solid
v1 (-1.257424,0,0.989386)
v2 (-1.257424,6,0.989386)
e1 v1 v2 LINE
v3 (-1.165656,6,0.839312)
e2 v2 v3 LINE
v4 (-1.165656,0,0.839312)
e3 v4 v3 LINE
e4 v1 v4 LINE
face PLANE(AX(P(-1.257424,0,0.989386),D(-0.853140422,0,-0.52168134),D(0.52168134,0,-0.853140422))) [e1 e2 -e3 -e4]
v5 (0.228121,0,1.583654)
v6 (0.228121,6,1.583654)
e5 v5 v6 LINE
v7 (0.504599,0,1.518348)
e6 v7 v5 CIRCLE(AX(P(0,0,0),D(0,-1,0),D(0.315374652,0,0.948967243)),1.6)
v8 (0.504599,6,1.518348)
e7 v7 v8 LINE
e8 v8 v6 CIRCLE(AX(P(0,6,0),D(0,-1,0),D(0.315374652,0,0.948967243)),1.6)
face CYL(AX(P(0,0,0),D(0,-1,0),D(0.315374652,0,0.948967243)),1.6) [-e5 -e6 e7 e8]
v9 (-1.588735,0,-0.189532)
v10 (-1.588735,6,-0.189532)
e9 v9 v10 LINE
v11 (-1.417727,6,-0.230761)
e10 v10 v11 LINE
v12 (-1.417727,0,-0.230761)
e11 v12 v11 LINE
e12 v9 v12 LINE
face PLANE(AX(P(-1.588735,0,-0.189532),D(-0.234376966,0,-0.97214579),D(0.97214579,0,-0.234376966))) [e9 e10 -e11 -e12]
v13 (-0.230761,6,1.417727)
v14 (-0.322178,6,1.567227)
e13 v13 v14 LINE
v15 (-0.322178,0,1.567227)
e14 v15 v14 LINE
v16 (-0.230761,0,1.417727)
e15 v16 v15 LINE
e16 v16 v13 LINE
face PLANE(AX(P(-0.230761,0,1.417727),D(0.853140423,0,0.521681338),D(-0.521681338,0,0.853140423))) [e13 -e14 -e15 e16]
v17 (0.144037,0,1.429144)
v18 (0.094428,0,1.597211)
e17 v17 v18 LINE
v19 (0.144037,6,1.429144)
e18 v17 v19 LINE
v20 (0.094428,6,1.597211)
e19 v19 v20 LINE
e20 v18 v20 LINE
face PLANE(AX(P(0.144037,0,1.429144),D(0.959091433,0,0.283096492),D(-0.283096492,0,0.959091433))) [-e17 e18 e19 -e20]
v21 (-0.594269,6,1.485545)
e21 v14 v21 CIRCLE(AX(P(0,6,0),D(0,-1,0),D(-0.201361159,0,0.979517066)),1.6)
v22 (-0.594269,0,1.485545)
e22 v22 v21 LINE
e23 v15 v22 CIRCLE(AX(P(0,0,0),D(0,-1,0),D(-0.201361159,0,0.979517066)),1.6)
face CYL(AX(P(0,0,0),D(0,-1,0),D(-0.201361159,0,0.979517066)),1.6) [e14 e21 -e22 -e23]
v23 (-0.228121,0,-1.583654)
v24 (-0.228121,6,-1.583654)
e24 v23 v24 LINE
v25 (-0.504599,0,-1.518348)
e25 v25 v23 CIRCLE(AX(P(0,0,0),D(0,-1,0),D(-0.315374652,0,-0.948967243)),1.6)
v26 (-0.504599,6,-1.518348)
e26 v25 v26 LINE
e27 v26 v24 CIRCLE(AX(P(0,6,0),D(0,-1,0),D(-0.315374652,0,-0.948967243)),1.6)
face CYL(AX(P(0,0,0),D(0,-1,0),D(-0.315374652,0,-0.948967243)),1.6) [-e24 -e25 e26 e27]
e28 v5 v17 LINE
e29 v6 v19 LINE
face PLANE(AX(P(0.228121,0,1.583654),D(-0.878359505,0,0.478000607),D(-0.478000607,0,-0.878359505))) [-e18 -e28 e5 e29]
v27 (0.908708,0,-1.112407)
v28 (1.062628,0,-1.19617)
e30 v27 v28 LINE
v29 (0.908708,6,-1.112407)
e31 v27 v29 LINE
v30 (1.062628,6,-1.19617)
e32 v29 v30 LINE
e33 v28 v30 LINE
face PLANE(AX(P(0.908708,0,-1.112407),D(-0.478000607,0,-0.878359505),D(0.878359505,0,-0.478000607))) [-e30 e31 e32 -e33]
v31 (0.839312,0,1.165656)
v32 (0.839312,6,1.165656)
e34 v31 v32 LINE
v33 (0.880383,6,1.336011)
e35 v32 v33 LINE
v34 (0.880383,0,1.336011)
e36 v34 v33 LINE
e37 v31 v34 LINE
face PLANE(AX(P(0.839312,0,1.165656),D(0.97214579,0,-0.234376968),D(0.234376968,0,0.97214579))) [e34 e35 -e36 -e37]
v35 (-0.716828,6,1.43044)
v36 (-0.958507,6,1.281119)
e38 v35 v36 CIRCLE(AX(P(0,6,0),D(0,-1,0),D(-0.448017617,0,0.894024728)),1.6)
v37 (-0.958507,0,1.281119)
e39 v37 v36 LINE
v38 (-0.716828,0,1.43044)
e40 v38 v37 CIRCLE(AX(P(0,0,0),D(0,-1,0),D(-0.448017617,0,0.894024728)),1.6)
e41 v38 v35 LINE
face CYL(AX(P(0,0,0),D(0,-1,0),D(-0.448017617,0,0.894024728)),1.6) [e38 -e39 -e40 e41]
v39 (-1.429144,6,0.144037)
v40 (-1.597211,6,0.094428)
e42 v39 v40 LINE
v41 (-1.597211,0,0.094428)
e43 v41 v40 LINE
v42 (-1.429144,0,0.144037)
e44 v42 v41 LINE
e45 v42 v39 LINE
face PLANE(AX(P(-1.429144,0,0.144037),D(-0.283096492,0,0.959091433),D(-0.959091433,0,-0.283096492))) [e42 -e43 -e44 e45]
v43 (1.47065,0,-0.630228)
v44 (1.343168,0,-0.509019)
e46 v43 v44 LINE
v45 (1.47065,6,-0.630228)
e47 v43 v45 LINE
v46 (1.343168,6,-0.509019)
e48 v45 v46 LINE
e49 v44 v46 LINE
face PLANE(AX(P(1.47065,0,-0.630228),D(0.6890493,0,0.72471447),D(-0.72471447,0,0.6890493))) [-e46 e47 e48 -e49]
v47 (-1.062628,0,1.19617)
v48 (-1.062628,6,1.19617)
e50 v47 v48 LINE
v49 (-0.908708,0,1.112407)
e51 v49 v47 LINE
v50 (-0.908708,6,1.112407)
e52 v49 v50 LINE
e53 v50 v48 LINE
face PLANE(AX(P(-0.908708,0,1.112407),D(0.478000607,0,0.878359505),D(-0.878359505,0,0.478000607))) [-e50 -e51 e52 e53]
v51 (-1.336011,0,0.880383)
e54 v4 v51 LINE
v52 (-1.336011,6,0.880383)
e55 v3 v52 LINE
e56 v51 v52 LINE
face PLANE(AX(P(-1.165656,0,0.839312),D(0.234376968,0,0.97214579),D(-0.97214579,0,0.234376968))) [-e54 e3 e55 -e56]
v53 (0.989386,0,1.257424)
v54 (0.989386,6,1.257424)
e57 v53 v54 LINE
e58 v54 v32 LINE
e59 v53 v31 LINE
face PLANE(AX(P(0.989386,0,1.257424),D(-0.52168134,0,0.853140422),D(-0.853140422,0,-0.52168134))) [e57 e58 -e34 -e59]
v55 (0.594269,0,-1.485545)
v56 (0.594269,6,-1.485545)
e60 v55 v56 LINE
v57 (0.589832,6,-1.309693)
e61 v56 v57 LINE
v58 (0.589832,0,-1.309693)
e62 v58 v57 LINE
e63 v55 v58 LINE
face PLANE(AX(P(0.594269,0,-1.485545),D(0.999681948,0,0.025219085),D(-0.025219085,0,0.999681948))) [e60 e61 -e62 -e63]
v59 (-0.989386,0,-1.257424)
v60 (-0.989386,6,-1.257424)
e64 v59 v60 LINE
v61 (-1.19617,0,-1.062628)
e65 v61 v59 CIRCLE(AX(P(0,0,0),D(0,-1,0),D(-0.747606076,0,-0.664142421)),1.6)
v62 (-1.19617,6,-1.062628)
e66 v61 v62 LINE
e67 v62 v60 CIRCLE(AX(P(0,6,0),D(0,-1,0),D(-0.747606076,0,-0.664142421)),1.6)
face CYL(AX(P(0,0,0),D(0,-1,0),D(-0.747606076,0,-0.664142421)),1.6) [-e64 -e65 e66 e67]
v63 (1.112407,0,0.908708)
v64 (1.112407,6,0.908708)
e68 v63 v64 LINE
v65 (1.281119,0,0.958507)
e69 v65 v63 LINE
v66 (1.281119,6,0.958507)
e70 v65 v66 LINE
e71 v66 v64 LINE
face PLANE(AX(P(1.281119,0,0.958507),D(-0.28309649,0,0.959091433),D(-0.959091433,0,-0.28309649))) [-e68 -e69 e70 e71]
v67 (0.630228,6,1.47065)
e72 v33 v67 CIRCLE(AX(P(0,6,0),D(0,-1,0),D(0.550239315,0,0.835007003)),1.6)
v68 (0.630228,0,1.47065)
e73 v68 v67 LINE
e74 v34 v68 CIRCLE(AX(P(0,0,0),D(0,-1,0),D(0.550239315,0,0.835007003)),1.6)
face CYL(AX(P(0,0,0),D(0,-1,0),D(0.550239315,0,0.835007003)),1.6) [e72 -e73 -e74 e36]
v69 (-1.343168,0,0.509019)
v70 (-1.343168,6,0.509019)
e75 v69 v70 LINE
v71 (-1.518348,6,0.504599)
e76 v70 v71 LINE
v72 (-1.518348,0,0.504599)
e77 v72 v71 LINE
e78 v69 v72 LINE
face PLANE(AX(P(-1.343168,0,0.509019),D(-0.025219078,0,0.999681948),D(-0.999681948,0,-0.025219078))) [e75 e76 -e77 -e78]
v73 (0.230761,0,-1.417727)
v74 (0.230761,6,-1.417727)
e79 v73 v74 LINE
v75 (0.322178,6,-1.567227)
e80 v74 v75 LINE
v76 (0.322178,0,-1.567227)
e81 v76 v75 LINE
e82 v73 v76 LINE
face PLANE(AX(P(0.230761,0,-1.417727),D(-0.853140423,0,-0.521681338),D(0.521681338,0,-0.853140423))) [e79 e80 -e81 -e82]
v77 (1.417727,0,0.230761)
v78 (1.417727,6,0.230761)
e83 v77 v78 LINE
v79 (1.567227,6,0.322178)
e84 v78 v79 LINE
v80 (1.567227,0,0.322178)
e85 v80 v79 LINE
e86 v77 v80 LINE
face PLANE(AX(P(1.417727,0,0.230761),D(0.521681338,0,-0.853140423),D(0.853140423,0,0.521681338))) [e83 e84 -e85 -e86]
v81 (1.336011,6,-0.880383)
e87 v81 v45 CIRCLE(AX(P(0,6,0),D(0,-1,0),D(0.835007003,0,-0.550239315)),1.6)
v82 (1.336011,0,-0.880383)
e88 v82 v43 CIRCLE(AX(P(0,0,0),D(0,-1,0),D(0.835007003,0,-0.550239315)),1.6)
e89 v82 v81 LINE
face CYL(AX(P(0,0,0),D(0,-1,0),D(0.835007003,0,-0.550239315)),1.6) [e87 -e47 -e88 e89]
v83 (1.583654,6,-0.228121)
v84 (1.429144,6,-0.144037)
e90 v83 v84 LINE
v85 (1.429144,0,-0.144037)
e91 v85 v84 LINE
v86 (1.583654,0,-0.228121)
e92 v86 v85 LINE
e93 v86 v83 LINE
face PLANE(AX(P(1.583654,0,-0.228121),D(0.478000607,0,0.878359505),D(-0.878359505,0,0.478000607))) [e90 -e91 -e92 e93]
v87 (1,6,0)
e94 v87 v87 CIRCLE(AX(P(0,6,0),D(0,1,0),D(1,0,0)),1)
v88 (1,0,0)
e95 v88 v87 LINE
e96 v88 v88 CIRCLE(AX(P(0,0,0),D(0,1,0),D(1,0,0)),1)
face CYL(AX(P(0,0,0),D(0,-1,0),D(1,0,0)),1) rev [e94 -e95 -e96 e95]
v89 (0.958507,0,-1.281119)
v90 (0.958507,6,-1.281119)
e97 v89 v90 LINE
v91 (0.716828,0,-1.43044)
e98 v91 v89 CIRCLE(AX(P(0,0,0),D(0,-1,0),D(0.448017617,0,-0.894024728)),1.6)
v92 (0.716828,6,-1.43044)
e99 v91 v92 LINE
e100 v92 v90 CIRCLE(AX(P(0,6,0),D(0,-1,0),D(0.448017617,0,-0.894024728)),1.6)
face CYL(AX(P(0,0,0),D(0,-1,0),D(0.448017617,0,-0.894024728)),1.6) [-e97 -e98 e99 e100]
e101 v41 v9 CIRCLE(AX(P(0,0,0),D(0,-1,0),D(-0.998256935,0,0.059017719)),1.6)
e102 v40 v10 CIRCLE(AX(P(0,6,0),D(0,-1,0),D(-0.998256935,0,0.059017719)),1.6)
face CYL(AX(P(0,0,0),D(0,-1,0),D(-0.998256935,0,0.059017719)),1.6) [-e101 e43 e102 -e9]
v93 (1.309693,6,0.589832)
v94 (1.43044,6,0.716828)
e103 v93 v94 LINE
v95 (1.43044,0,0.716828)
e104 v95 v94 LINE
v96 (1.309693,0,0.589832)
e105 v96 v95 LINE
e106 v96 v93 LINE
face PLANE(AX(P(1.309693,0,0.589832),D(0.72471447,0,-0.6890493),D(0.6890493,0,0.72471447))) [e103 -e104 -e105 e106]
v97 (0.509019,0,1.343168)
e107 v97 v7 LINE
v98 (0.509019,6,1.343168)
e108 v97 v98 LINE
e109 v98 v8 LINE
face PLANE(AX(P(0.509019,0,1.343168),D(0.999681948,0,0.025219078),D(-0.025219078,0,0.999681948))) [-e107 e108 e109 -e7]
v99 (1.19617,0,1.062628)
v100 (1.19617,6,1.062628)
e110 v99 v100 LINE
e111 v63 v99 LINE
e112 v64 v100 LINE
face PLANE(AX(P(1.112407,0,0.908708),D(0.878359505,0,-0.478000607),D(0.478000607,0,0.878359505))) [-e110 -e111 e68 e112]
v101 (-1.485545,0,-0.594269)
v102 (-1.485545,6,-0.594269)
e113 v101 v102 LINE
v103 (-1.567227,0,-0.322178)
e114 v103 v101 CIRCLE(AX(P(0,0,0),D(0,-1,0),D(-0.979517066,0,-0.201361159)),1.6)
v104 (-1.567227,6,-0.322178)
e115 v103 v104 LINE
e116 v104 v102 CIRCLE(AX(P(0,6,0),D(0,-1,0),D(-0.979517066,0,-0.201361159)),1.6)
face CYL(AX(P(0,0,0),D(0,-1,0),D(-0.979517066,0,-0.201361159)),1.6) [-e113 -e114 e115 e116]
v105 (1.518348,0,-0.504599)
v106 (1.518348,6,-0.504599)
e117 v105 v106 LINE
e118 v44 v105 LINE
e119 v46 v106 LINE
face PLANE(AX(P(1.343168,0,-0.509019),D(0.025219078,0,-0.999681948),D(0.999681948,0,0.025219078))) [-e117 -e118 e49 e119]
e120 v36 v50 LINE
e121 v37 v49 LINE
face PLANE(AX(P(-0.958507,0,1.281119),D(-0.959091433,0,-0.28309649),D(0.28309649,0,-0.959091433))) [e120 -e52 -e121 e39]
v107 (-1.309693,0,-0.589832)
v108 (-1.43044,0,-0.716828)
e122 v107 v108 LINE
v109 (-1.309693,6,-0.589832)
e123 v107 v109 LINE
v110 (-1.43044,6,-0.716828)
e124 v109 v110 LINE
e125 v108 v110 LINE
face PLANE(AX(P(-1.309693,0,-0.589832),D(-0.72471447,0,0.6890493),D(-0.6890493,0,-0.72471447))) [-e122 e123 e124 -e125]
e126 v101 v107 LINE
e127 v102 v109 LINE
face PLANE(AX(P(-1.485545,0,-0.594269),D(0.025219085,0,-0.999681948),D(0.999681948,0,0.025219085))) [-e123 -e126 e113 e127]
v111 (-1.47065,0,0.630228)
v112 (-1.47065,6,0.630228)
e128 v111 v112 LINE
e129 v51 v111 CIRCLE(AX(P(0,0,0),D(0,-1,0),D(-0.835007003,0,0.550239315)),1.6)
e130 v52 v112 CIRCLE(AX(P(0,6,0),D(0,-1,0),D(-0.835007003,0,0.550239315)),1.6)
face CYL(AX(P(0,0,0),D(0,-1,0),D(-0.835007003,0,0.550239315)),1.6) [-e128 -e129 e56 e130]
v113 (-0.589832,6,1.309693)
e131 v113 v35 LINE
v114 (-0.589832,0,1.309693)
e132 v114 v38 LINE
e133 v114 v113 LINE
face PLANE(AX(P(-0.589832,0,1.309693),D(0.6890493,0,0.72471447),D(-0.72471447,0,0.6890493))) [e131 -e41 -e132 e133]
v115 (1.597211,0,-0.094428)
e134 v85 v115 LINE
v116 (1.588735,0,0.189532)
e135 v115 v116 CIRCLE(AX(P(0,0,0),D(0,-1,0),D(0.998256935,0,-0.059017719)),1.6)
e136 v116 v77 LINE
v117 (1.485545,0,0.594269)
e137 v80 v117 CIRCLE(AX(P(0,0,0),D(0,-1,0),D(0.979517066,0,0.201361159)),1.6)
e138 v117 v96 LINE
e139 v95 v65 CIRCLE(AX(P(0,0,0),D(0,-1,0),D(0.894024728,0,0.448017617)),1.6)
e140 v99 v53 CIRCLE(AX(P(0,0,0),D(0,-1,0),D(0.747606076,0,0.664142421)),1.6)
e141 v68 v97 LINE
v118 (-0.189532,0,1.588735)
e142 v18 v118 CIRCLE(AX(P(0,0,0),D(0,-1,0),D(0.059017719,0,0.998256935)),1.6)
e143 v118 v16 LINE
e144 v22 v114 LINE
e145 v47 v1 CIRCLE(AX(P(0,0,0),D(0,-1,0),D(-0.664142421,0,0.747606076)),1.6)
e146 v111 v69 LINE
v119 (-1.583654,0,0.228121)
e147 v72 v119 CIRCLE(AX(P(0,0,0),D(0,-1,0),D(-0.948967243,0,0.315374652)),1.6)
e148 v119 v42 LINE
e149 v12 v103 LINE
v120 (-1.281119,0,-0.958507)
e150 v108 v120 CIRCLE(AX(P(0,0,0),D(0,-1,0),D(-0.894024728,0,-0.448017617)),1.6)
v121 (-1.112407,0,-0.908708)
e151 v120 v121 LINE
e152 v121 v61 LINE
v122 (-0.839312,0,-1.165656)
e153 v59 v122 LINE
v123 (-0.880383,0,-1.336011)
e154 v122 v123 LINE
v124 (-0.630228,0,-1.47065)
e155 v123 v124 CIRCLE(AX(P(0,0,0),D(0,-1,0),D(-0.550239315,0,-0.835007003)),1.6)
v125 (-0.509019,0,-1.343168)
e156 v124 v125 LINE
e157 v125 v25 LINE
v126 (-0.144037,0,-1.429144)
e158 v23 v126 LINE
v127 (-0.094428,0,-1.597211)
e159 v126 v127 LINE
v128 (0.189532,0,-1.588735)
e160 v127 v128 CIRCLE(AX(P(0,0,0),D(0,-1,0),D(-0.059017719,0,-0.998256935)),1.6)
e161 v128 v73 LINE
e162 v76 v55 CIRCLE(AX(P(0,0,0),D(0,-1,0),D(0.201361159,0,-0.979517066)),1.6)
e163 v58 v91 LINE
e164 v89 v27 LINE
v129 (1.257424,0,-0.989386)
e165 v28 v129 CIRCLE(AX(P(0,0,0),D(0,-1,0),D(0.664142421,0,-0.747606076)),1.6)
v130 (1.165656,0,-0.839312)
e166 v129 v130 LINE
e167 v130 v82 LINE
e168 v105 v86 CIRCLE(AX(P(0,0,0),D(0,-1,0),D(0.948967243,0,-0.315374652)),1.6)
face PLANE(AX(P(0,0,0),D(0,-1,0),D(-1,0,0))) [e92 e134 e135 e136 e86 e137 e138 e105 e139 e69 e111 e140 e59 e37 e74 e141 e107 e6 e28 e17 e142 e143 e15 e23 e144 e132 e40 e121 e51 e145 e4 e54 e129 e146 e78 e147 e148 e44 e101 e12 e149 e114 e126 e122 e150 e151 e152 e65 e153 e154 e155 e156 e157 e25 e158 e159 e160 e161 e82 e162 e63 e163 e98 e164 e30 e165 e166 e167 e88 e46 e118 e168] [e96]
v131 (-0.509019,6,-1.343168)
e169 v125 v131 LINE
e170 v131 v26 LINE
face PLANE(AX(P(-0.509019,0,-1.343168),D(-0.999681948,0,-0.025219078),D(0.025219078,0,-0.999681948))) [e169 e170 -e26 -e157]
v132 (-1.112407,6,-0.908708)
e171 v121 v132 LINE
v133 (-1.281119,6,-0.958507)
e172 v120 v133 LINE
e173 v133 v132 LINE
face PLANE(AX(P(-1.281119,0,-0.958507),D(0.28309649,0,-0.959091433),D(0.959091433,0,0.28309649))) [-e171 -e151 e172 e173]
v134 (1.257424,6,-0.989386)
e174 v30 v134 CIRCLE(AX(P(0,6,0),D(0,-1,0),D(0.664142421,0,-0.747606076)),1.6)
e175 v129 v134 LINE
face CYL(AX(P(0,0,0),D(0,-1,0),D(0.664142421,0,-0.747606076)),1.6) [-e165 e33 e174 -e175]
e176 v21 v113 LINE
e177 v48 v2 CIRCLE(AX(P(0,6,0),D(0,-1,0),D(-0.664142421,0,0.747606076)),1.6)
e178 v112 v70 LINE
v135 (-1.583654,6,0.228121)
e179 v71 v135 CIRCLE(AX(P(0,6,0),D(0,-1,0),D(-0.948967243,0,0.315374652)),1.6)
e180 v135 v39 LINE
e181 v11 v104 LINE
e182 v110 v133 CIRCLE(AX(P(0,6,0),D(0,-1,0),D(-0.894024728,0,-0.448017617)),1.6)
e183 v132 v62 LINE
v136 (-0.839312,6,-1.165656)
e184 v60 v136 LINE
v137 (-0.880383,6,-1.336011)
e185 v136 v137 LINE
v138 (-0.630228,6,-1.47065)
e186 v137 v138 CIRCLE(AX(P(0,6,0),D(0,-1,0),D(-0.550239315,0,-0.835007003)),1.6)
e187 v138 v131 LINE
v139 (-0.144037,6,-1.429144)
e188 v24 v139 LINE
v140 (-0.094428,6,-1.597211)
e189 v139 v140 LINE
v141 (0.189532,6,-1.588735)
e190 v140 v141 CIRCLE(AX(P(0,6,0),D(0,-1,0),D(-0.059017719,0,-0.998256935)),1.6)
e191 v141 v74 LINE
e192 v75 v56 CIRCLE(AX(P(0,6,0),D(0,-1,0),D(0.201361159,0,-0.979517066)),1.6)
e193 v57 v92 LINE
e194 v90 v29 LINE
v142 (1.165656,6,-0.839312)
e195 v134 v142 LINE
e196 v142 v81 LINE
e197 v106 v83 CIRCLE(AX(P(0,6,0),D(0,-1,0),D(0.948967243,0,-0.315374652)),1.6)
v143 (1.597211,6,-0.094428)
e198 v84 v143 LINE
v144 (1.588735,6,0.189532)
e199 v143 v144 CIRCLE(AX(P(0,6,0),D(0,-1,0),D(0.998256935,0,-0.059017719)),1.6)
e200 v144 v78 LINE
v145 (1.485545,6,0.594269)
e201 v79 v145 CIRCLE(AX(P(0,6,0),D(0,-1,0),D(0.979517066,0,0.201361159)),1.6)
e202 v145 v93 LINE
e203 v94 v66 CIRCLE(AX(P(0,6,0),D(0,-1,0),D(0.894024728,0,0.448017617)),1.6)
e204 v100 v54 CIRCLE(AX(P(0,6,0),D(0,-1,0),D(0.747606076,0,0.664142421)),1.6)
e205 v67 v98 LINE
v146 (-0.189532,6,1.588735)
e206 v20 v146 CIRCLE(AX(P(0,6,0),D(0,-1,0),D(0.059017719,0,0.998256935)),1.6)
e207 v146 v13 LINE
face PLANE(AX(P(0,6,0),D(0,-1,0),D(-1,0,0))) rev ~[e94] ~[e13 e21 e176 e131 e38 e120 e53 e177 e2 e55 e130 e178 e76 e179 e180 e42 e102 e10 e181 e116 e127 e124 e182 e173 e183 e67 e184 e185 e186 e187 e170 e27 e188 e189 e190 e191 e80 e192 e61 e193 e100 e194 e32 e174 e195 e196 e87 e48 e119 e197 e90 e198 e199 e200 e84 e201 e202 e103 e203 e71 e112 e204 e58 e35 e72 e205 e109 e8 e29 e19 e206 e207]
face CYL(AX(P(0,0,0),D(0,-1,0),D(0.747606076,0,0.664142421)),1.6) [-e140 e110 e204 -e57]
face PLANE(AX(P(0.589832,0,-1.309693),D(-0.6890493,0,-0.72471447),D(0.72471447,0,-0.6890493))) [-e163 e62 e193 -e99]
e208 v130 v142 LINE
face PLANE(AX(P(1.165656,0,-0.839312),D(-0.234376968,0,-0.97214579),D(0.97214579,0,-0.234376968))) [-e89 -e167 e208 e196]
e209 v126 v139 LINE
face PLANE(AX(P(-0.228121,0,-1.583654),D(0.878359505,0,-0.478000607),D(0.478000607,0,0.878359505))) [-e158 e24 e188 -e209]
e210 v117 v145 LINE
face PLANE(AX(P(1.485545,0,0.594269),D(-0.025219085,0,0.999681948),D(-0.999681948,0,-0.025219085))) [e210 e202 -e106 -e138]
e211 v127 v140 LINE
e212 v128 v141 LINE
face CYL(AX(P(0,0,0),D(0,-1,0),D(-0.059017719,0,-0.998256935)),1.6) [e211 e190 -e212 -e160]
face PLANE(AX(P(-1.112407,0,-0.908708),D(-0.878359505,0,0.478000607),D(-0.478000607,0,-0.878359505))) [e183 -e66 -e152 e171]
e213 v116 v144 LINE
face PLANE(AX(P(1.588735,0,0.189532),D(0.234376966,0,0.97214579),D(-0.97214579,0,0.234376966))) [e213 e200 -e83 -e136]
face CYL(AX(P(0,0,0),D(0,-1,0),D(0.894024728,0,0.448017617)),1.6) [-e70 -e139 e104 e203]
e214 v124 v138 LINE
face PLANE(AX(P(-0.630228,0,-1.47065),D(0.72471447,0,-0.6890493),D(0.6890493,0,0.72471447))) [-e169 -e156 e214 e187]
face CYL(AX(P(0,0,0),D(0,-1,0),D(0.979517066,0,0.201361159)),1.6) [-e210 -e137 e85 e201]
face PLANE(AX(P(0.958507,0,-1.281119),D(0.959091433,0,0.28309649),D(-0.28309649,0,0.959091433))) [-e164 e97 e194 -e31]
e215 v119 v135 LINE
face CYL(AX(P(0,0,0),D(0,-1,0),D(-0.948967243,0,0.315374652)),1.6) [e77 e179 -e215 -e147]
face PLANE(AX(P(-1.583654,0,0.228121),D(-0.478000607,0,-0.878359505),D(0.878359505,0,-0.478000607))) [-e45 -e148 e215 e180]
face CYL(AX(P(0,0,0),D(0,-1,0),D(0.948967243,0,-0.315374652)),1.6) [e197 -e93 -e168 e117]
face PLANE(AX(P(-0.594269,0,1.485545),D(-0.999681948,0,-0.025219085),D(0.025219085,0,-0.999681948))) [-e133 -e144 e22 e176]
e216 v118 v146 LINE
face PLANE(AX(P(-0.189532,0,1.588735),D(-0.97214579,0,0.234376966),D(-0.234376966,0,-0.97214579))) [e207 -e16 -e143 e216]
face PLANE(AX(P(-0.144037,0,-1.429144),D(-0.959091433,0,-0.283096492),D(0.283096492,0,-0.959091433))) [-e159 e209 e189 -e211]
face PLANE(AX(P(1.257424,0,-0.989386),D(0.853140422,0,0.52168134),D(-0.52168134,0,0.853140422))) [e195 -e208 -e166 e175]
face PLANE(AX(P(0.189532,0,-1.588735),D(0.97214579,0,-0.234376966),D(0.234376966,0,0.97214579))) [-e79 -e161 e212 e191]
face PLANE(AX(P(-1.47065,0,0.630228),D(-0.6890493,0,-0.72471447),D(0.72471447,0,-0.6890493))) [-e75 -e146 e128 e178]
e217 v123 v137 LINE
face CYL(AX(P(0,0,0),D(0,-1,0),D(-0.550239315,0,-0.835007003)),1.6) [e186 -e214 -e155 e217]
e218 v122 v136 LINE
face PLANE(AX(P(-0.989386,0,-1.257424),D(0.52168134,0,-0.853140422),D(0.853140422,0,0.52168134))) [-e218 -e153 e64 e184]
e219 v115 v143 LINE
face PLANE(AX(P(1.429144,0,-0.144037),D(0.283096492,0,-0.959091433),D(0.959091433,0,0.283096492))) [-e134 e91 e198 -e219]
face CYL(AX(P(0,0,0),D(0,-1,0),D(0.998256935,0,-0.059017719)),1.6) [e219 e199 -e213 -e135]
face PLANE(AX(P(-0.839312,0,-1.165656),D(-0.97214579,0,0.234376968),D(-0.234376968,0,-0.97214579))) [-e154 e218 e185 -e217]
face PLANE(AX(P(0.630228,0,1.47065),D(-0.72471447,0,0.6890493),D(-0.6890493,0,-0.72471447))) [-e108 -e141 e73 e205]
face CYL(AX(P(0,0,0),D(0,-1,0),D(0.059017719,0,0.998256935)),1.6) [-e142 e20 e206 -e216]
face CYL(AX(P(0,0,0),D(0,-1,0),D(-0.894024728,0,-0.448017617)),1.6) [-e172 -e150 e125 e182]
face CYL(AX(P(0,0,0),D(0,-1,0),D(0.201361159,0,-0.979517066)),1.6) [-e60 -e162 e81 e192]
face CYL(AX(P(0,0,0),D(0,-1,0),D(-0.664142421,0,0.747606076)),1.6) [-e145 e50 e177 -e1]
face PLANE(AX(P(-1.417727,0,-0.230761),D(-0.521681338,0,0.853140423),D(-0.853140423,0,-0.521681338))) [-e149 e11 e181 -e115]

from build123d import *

# Parameters (mm, degrees)
SKETCH_1_R      = 1
EXTRUDE_1_DEPTH = 6


with BuildPart() as part:
    # 草图1 → 凸台-拉伸1 (new body)
    with BuildSketch(Plane(origin=(0, 0, 0), x_dir=(1, 0, 0), z_dir=(0, 1, 0))):
        with BuildLine():
            Line((-0.228121034, 1.583654253), (-0.144036994, 1.429143956))
            Line((-0.144036994, 1.429143956), (-0.094428358, 1.597211096))
            ThreePointArc((-0.094428358, 1.597211096), (0.047740264, 1.599287612), (0.189531883, 1.588734611))
            Line((0.189531883, 1.588734611), (0.230760622, 1.417726573))
            Line((0.230760622, 1.417726573), (0.322177861, 1.567227305))
            ThreePointArc((0.322177861, 1.567227305), (0.460039647, 1.532437119), (0.594268516, 1.485545331))
            Line((0.594268516, 1.485545331), (0.589832282, 1.309693468))
            Line((0.589832282, 1.309693468), (0.716828191, 1.430439563))
            ThreePointArc((0.716828191, 1.430439563), (0.840988088, 1.361153568), (0.958506731, 1.281118592))
            Line((0.958506731, 1.281118592), (0.908707847, 1.112406917))
            Line((0.908707847, 1.112406917), (1.062627865, 1.196169729))
            ThreePointArc((1.062627865, 1.196169729), (1.16462458, 1.097109651), (1.257424297, 0.989385738))
            Line((1.257424297, 0.989385738), (1.165656474, 0.839311673))
            Line((1.165656474, 0.839311673), (1.336011205, 0.880382905))
            ThreePointArc((1.336011205, 0.880382905), (1.408893832, 0.758299525), (1.470650475, 0.63022788))
            Line((1.470650475, 0.63022788), (1.343167539, 0.509018726))
            Line((1.343167539, 0.509018726), (1.51834759, 0.504599441))
            ThreePointArc((1.51834759, 0.504599441), (1.557149298, 0.367812539), (1.583654253, 0.228121034))
            Line((1.583654253, 0.228121034), (1.429143956, 0.144036994))
            Line((1.429143956, 0.144036994), (1.597211096, 0.094428358))
            ThreePointArc((1.597211096, 0.094428358), (1.599287612, -0.047740264), (1.588734611, -0.189531883))
            Line((1.588734611, -0.189531883), (1.417726573, -0.230760622))
            Line((1.417726573, -0.230760622), (1.567227305, -0.322177861))
            ThreePointArc((1.567227305, -0.322177861), (1.532437119, -0.460039647), (1.485545331, -0.594268516))
            Line((1.485545331, -0.594268516), (1.309693468, -0.589832282))
            Line((1.309693468, -0.589832282), (1.430439563, -0.716828191))
            ThreePointArc((1.430439563, -0.716828191), (1.361153568, -0.840988088), (1.281118592, -0.958506731))
            Line((1.281118592, -0.958506731), (1.112406917, -0.908707847))
            Line((1.112406917, -0.908707847), (1.196169729, -1.062627865))
            ThreePointArc((1.196169729, -1.062627865), (1.097109651, -1.16462458), (0.989385738, -1.257424297))
            Line((0.989385738, -1.257424297), (0.839311673, -1.165656474))
            Line((0.839311673, -1.165656474), (0.880382905, -1.336011205))
            ThreePointArc((0.880382905, -1.336011205), (0.758299525, -1.408893832), (0.63022788, -1.470650475))
            Line((0.63022788, -1.470650475), (0.509018726, -1.343167539))
            Line((0.509018726, -1.343167539), (0.504599441, -1.51834759))
            ThreePointArc((0.504599441, -1.51834759), (0.367812539, -1.557149298), (0.228121034, -1.583654253))
            Line((0.228121034, -1.583654253), (0.144036994, -1.429143956))
            Line((0.144036994, -1.429143956), (0.094428358, -1.597211096))
            ThreePointArc((0.094428358, -1.597211096), (-0.047740264, -1.599287612), (-0.189531883, -1.588734611))
            Line((-0.189531883, -1.588734611), (-0.230760622, -1.417726573))
            Line((-0.230760622, -1.417726573), (-0.322177861, -1.567227305))
            ThreePointArc((-0.322177861, -1.567227305), (-0.460039647, -1.532437119), (-0.594268516, -1.485545331))
            Line((-0.594268516, -1.485545331), (-0.589832282, -1.309693468))
            Line((-0.589832282, -1.309693468), (-0.716828191, -1.430439563))
            ThreePointArc((-0.716828191, -1.430439563), (-0.840988088, -1.361153568), (-0.958506731, -1.281118592))
            Line((-0.958506731, -1.281118592), (-0.908707847, -1.112406917))
            Line((-0.908707847, -1.112406917), (-1.062627865, -1.196169729))
            ThreePointArc((-1.062627865, -1.196169729), (-1.16462458, -1.097109651), (-1.257424297, -0.989385738))
            Line((-1.257424297, -0.989385738), (-1.165656474, -0.839311673))
            Line((-1.165656474, -0.839311673), (-1.336011205, -0.880382905))
            ThreePointArc((-1.336011205, -0.880382905), (-1.408893832, -0.758299525), (-1.470650475, -0.63022788))
            Line((-1.470650475, -0.63022788), (-1.343167539, -0.509018726))
            Line((-1.343167539, -0.509018726), (-1.51834759, -0.504599441))
            ThreePointArc((-1.51834759, -0.504599441), (-1.557149298, -0.367812539), (-1.583654253, -0.228121034))
            Line((-1.583654253, -0.228121034), (-1.429143956, -0.144036994))
            Line((-1.429143956, -0.144036994), (-1.597211096, -0.094428358))
            ThreePointArc((-1.597211096, -0.094428358), (-1.599287612, 0.047740264), (-1.588734611, 0.189531883))
            Line((-1.588734611, 0.189531883), (-1.417726573, 0.230760622))
            Line((-1.417726573, 0.230760622), (-1.567227305, 0.322177861))
            ThreePointArc((-1.567227305, 0.322177861), (-1.532437119, 0.460039647), (-1.485545331, 0.594268516))
            Line((-1.485545331, 0.594268516), (-1.309693468, 0.589832282))
            Line((-1.309693468, 0.589832282), (-1.430439563, 0.716828191))
            ThreePointArc((-1.430439563, 0.716828191), (-1.361153568, 0.840988088), (-1.281118592, 0.958506731))
            Line((-1.281118592, 0.958506731), (-1.112406917, 0.908707847))
            Line((-1.112406917, 0.908707847), (-1.196169729, 1.062627865))
            ThreePointArc((-1.196169729, 1.062627865), (-1.097109651, 1.16462458), (-0.989385738, 1.257424297))
            Line((-0.989385738, 1.257424297), (-0.839311673, 1.165656474))
            Line((-0.839311673, 1.165656474), (-0.880382905, 1.336011205))
            ThreePointArc((-0.880382905, 1.336011205), (-0.758299525, 1.408893832), (-0.63022788, 1.470650475))
            Line((-0.63022788, 1.470650475), (-0.509018726, 1.343167539))
            Line((-0.509018726, 1.343167539), (-0.504599441, 1.51834759))
            ThreePointArc((-0.504599441, 1.51834759), (-0.367812539, 1.557149298), (-0.228121034, 1.583654253))
        make_face()
        Circle(SKETCH_1_R, mode=Mode.SUBTRACT)
    extrude(amount=EXTRUDE_1_DEPTH)


solid = part.part
